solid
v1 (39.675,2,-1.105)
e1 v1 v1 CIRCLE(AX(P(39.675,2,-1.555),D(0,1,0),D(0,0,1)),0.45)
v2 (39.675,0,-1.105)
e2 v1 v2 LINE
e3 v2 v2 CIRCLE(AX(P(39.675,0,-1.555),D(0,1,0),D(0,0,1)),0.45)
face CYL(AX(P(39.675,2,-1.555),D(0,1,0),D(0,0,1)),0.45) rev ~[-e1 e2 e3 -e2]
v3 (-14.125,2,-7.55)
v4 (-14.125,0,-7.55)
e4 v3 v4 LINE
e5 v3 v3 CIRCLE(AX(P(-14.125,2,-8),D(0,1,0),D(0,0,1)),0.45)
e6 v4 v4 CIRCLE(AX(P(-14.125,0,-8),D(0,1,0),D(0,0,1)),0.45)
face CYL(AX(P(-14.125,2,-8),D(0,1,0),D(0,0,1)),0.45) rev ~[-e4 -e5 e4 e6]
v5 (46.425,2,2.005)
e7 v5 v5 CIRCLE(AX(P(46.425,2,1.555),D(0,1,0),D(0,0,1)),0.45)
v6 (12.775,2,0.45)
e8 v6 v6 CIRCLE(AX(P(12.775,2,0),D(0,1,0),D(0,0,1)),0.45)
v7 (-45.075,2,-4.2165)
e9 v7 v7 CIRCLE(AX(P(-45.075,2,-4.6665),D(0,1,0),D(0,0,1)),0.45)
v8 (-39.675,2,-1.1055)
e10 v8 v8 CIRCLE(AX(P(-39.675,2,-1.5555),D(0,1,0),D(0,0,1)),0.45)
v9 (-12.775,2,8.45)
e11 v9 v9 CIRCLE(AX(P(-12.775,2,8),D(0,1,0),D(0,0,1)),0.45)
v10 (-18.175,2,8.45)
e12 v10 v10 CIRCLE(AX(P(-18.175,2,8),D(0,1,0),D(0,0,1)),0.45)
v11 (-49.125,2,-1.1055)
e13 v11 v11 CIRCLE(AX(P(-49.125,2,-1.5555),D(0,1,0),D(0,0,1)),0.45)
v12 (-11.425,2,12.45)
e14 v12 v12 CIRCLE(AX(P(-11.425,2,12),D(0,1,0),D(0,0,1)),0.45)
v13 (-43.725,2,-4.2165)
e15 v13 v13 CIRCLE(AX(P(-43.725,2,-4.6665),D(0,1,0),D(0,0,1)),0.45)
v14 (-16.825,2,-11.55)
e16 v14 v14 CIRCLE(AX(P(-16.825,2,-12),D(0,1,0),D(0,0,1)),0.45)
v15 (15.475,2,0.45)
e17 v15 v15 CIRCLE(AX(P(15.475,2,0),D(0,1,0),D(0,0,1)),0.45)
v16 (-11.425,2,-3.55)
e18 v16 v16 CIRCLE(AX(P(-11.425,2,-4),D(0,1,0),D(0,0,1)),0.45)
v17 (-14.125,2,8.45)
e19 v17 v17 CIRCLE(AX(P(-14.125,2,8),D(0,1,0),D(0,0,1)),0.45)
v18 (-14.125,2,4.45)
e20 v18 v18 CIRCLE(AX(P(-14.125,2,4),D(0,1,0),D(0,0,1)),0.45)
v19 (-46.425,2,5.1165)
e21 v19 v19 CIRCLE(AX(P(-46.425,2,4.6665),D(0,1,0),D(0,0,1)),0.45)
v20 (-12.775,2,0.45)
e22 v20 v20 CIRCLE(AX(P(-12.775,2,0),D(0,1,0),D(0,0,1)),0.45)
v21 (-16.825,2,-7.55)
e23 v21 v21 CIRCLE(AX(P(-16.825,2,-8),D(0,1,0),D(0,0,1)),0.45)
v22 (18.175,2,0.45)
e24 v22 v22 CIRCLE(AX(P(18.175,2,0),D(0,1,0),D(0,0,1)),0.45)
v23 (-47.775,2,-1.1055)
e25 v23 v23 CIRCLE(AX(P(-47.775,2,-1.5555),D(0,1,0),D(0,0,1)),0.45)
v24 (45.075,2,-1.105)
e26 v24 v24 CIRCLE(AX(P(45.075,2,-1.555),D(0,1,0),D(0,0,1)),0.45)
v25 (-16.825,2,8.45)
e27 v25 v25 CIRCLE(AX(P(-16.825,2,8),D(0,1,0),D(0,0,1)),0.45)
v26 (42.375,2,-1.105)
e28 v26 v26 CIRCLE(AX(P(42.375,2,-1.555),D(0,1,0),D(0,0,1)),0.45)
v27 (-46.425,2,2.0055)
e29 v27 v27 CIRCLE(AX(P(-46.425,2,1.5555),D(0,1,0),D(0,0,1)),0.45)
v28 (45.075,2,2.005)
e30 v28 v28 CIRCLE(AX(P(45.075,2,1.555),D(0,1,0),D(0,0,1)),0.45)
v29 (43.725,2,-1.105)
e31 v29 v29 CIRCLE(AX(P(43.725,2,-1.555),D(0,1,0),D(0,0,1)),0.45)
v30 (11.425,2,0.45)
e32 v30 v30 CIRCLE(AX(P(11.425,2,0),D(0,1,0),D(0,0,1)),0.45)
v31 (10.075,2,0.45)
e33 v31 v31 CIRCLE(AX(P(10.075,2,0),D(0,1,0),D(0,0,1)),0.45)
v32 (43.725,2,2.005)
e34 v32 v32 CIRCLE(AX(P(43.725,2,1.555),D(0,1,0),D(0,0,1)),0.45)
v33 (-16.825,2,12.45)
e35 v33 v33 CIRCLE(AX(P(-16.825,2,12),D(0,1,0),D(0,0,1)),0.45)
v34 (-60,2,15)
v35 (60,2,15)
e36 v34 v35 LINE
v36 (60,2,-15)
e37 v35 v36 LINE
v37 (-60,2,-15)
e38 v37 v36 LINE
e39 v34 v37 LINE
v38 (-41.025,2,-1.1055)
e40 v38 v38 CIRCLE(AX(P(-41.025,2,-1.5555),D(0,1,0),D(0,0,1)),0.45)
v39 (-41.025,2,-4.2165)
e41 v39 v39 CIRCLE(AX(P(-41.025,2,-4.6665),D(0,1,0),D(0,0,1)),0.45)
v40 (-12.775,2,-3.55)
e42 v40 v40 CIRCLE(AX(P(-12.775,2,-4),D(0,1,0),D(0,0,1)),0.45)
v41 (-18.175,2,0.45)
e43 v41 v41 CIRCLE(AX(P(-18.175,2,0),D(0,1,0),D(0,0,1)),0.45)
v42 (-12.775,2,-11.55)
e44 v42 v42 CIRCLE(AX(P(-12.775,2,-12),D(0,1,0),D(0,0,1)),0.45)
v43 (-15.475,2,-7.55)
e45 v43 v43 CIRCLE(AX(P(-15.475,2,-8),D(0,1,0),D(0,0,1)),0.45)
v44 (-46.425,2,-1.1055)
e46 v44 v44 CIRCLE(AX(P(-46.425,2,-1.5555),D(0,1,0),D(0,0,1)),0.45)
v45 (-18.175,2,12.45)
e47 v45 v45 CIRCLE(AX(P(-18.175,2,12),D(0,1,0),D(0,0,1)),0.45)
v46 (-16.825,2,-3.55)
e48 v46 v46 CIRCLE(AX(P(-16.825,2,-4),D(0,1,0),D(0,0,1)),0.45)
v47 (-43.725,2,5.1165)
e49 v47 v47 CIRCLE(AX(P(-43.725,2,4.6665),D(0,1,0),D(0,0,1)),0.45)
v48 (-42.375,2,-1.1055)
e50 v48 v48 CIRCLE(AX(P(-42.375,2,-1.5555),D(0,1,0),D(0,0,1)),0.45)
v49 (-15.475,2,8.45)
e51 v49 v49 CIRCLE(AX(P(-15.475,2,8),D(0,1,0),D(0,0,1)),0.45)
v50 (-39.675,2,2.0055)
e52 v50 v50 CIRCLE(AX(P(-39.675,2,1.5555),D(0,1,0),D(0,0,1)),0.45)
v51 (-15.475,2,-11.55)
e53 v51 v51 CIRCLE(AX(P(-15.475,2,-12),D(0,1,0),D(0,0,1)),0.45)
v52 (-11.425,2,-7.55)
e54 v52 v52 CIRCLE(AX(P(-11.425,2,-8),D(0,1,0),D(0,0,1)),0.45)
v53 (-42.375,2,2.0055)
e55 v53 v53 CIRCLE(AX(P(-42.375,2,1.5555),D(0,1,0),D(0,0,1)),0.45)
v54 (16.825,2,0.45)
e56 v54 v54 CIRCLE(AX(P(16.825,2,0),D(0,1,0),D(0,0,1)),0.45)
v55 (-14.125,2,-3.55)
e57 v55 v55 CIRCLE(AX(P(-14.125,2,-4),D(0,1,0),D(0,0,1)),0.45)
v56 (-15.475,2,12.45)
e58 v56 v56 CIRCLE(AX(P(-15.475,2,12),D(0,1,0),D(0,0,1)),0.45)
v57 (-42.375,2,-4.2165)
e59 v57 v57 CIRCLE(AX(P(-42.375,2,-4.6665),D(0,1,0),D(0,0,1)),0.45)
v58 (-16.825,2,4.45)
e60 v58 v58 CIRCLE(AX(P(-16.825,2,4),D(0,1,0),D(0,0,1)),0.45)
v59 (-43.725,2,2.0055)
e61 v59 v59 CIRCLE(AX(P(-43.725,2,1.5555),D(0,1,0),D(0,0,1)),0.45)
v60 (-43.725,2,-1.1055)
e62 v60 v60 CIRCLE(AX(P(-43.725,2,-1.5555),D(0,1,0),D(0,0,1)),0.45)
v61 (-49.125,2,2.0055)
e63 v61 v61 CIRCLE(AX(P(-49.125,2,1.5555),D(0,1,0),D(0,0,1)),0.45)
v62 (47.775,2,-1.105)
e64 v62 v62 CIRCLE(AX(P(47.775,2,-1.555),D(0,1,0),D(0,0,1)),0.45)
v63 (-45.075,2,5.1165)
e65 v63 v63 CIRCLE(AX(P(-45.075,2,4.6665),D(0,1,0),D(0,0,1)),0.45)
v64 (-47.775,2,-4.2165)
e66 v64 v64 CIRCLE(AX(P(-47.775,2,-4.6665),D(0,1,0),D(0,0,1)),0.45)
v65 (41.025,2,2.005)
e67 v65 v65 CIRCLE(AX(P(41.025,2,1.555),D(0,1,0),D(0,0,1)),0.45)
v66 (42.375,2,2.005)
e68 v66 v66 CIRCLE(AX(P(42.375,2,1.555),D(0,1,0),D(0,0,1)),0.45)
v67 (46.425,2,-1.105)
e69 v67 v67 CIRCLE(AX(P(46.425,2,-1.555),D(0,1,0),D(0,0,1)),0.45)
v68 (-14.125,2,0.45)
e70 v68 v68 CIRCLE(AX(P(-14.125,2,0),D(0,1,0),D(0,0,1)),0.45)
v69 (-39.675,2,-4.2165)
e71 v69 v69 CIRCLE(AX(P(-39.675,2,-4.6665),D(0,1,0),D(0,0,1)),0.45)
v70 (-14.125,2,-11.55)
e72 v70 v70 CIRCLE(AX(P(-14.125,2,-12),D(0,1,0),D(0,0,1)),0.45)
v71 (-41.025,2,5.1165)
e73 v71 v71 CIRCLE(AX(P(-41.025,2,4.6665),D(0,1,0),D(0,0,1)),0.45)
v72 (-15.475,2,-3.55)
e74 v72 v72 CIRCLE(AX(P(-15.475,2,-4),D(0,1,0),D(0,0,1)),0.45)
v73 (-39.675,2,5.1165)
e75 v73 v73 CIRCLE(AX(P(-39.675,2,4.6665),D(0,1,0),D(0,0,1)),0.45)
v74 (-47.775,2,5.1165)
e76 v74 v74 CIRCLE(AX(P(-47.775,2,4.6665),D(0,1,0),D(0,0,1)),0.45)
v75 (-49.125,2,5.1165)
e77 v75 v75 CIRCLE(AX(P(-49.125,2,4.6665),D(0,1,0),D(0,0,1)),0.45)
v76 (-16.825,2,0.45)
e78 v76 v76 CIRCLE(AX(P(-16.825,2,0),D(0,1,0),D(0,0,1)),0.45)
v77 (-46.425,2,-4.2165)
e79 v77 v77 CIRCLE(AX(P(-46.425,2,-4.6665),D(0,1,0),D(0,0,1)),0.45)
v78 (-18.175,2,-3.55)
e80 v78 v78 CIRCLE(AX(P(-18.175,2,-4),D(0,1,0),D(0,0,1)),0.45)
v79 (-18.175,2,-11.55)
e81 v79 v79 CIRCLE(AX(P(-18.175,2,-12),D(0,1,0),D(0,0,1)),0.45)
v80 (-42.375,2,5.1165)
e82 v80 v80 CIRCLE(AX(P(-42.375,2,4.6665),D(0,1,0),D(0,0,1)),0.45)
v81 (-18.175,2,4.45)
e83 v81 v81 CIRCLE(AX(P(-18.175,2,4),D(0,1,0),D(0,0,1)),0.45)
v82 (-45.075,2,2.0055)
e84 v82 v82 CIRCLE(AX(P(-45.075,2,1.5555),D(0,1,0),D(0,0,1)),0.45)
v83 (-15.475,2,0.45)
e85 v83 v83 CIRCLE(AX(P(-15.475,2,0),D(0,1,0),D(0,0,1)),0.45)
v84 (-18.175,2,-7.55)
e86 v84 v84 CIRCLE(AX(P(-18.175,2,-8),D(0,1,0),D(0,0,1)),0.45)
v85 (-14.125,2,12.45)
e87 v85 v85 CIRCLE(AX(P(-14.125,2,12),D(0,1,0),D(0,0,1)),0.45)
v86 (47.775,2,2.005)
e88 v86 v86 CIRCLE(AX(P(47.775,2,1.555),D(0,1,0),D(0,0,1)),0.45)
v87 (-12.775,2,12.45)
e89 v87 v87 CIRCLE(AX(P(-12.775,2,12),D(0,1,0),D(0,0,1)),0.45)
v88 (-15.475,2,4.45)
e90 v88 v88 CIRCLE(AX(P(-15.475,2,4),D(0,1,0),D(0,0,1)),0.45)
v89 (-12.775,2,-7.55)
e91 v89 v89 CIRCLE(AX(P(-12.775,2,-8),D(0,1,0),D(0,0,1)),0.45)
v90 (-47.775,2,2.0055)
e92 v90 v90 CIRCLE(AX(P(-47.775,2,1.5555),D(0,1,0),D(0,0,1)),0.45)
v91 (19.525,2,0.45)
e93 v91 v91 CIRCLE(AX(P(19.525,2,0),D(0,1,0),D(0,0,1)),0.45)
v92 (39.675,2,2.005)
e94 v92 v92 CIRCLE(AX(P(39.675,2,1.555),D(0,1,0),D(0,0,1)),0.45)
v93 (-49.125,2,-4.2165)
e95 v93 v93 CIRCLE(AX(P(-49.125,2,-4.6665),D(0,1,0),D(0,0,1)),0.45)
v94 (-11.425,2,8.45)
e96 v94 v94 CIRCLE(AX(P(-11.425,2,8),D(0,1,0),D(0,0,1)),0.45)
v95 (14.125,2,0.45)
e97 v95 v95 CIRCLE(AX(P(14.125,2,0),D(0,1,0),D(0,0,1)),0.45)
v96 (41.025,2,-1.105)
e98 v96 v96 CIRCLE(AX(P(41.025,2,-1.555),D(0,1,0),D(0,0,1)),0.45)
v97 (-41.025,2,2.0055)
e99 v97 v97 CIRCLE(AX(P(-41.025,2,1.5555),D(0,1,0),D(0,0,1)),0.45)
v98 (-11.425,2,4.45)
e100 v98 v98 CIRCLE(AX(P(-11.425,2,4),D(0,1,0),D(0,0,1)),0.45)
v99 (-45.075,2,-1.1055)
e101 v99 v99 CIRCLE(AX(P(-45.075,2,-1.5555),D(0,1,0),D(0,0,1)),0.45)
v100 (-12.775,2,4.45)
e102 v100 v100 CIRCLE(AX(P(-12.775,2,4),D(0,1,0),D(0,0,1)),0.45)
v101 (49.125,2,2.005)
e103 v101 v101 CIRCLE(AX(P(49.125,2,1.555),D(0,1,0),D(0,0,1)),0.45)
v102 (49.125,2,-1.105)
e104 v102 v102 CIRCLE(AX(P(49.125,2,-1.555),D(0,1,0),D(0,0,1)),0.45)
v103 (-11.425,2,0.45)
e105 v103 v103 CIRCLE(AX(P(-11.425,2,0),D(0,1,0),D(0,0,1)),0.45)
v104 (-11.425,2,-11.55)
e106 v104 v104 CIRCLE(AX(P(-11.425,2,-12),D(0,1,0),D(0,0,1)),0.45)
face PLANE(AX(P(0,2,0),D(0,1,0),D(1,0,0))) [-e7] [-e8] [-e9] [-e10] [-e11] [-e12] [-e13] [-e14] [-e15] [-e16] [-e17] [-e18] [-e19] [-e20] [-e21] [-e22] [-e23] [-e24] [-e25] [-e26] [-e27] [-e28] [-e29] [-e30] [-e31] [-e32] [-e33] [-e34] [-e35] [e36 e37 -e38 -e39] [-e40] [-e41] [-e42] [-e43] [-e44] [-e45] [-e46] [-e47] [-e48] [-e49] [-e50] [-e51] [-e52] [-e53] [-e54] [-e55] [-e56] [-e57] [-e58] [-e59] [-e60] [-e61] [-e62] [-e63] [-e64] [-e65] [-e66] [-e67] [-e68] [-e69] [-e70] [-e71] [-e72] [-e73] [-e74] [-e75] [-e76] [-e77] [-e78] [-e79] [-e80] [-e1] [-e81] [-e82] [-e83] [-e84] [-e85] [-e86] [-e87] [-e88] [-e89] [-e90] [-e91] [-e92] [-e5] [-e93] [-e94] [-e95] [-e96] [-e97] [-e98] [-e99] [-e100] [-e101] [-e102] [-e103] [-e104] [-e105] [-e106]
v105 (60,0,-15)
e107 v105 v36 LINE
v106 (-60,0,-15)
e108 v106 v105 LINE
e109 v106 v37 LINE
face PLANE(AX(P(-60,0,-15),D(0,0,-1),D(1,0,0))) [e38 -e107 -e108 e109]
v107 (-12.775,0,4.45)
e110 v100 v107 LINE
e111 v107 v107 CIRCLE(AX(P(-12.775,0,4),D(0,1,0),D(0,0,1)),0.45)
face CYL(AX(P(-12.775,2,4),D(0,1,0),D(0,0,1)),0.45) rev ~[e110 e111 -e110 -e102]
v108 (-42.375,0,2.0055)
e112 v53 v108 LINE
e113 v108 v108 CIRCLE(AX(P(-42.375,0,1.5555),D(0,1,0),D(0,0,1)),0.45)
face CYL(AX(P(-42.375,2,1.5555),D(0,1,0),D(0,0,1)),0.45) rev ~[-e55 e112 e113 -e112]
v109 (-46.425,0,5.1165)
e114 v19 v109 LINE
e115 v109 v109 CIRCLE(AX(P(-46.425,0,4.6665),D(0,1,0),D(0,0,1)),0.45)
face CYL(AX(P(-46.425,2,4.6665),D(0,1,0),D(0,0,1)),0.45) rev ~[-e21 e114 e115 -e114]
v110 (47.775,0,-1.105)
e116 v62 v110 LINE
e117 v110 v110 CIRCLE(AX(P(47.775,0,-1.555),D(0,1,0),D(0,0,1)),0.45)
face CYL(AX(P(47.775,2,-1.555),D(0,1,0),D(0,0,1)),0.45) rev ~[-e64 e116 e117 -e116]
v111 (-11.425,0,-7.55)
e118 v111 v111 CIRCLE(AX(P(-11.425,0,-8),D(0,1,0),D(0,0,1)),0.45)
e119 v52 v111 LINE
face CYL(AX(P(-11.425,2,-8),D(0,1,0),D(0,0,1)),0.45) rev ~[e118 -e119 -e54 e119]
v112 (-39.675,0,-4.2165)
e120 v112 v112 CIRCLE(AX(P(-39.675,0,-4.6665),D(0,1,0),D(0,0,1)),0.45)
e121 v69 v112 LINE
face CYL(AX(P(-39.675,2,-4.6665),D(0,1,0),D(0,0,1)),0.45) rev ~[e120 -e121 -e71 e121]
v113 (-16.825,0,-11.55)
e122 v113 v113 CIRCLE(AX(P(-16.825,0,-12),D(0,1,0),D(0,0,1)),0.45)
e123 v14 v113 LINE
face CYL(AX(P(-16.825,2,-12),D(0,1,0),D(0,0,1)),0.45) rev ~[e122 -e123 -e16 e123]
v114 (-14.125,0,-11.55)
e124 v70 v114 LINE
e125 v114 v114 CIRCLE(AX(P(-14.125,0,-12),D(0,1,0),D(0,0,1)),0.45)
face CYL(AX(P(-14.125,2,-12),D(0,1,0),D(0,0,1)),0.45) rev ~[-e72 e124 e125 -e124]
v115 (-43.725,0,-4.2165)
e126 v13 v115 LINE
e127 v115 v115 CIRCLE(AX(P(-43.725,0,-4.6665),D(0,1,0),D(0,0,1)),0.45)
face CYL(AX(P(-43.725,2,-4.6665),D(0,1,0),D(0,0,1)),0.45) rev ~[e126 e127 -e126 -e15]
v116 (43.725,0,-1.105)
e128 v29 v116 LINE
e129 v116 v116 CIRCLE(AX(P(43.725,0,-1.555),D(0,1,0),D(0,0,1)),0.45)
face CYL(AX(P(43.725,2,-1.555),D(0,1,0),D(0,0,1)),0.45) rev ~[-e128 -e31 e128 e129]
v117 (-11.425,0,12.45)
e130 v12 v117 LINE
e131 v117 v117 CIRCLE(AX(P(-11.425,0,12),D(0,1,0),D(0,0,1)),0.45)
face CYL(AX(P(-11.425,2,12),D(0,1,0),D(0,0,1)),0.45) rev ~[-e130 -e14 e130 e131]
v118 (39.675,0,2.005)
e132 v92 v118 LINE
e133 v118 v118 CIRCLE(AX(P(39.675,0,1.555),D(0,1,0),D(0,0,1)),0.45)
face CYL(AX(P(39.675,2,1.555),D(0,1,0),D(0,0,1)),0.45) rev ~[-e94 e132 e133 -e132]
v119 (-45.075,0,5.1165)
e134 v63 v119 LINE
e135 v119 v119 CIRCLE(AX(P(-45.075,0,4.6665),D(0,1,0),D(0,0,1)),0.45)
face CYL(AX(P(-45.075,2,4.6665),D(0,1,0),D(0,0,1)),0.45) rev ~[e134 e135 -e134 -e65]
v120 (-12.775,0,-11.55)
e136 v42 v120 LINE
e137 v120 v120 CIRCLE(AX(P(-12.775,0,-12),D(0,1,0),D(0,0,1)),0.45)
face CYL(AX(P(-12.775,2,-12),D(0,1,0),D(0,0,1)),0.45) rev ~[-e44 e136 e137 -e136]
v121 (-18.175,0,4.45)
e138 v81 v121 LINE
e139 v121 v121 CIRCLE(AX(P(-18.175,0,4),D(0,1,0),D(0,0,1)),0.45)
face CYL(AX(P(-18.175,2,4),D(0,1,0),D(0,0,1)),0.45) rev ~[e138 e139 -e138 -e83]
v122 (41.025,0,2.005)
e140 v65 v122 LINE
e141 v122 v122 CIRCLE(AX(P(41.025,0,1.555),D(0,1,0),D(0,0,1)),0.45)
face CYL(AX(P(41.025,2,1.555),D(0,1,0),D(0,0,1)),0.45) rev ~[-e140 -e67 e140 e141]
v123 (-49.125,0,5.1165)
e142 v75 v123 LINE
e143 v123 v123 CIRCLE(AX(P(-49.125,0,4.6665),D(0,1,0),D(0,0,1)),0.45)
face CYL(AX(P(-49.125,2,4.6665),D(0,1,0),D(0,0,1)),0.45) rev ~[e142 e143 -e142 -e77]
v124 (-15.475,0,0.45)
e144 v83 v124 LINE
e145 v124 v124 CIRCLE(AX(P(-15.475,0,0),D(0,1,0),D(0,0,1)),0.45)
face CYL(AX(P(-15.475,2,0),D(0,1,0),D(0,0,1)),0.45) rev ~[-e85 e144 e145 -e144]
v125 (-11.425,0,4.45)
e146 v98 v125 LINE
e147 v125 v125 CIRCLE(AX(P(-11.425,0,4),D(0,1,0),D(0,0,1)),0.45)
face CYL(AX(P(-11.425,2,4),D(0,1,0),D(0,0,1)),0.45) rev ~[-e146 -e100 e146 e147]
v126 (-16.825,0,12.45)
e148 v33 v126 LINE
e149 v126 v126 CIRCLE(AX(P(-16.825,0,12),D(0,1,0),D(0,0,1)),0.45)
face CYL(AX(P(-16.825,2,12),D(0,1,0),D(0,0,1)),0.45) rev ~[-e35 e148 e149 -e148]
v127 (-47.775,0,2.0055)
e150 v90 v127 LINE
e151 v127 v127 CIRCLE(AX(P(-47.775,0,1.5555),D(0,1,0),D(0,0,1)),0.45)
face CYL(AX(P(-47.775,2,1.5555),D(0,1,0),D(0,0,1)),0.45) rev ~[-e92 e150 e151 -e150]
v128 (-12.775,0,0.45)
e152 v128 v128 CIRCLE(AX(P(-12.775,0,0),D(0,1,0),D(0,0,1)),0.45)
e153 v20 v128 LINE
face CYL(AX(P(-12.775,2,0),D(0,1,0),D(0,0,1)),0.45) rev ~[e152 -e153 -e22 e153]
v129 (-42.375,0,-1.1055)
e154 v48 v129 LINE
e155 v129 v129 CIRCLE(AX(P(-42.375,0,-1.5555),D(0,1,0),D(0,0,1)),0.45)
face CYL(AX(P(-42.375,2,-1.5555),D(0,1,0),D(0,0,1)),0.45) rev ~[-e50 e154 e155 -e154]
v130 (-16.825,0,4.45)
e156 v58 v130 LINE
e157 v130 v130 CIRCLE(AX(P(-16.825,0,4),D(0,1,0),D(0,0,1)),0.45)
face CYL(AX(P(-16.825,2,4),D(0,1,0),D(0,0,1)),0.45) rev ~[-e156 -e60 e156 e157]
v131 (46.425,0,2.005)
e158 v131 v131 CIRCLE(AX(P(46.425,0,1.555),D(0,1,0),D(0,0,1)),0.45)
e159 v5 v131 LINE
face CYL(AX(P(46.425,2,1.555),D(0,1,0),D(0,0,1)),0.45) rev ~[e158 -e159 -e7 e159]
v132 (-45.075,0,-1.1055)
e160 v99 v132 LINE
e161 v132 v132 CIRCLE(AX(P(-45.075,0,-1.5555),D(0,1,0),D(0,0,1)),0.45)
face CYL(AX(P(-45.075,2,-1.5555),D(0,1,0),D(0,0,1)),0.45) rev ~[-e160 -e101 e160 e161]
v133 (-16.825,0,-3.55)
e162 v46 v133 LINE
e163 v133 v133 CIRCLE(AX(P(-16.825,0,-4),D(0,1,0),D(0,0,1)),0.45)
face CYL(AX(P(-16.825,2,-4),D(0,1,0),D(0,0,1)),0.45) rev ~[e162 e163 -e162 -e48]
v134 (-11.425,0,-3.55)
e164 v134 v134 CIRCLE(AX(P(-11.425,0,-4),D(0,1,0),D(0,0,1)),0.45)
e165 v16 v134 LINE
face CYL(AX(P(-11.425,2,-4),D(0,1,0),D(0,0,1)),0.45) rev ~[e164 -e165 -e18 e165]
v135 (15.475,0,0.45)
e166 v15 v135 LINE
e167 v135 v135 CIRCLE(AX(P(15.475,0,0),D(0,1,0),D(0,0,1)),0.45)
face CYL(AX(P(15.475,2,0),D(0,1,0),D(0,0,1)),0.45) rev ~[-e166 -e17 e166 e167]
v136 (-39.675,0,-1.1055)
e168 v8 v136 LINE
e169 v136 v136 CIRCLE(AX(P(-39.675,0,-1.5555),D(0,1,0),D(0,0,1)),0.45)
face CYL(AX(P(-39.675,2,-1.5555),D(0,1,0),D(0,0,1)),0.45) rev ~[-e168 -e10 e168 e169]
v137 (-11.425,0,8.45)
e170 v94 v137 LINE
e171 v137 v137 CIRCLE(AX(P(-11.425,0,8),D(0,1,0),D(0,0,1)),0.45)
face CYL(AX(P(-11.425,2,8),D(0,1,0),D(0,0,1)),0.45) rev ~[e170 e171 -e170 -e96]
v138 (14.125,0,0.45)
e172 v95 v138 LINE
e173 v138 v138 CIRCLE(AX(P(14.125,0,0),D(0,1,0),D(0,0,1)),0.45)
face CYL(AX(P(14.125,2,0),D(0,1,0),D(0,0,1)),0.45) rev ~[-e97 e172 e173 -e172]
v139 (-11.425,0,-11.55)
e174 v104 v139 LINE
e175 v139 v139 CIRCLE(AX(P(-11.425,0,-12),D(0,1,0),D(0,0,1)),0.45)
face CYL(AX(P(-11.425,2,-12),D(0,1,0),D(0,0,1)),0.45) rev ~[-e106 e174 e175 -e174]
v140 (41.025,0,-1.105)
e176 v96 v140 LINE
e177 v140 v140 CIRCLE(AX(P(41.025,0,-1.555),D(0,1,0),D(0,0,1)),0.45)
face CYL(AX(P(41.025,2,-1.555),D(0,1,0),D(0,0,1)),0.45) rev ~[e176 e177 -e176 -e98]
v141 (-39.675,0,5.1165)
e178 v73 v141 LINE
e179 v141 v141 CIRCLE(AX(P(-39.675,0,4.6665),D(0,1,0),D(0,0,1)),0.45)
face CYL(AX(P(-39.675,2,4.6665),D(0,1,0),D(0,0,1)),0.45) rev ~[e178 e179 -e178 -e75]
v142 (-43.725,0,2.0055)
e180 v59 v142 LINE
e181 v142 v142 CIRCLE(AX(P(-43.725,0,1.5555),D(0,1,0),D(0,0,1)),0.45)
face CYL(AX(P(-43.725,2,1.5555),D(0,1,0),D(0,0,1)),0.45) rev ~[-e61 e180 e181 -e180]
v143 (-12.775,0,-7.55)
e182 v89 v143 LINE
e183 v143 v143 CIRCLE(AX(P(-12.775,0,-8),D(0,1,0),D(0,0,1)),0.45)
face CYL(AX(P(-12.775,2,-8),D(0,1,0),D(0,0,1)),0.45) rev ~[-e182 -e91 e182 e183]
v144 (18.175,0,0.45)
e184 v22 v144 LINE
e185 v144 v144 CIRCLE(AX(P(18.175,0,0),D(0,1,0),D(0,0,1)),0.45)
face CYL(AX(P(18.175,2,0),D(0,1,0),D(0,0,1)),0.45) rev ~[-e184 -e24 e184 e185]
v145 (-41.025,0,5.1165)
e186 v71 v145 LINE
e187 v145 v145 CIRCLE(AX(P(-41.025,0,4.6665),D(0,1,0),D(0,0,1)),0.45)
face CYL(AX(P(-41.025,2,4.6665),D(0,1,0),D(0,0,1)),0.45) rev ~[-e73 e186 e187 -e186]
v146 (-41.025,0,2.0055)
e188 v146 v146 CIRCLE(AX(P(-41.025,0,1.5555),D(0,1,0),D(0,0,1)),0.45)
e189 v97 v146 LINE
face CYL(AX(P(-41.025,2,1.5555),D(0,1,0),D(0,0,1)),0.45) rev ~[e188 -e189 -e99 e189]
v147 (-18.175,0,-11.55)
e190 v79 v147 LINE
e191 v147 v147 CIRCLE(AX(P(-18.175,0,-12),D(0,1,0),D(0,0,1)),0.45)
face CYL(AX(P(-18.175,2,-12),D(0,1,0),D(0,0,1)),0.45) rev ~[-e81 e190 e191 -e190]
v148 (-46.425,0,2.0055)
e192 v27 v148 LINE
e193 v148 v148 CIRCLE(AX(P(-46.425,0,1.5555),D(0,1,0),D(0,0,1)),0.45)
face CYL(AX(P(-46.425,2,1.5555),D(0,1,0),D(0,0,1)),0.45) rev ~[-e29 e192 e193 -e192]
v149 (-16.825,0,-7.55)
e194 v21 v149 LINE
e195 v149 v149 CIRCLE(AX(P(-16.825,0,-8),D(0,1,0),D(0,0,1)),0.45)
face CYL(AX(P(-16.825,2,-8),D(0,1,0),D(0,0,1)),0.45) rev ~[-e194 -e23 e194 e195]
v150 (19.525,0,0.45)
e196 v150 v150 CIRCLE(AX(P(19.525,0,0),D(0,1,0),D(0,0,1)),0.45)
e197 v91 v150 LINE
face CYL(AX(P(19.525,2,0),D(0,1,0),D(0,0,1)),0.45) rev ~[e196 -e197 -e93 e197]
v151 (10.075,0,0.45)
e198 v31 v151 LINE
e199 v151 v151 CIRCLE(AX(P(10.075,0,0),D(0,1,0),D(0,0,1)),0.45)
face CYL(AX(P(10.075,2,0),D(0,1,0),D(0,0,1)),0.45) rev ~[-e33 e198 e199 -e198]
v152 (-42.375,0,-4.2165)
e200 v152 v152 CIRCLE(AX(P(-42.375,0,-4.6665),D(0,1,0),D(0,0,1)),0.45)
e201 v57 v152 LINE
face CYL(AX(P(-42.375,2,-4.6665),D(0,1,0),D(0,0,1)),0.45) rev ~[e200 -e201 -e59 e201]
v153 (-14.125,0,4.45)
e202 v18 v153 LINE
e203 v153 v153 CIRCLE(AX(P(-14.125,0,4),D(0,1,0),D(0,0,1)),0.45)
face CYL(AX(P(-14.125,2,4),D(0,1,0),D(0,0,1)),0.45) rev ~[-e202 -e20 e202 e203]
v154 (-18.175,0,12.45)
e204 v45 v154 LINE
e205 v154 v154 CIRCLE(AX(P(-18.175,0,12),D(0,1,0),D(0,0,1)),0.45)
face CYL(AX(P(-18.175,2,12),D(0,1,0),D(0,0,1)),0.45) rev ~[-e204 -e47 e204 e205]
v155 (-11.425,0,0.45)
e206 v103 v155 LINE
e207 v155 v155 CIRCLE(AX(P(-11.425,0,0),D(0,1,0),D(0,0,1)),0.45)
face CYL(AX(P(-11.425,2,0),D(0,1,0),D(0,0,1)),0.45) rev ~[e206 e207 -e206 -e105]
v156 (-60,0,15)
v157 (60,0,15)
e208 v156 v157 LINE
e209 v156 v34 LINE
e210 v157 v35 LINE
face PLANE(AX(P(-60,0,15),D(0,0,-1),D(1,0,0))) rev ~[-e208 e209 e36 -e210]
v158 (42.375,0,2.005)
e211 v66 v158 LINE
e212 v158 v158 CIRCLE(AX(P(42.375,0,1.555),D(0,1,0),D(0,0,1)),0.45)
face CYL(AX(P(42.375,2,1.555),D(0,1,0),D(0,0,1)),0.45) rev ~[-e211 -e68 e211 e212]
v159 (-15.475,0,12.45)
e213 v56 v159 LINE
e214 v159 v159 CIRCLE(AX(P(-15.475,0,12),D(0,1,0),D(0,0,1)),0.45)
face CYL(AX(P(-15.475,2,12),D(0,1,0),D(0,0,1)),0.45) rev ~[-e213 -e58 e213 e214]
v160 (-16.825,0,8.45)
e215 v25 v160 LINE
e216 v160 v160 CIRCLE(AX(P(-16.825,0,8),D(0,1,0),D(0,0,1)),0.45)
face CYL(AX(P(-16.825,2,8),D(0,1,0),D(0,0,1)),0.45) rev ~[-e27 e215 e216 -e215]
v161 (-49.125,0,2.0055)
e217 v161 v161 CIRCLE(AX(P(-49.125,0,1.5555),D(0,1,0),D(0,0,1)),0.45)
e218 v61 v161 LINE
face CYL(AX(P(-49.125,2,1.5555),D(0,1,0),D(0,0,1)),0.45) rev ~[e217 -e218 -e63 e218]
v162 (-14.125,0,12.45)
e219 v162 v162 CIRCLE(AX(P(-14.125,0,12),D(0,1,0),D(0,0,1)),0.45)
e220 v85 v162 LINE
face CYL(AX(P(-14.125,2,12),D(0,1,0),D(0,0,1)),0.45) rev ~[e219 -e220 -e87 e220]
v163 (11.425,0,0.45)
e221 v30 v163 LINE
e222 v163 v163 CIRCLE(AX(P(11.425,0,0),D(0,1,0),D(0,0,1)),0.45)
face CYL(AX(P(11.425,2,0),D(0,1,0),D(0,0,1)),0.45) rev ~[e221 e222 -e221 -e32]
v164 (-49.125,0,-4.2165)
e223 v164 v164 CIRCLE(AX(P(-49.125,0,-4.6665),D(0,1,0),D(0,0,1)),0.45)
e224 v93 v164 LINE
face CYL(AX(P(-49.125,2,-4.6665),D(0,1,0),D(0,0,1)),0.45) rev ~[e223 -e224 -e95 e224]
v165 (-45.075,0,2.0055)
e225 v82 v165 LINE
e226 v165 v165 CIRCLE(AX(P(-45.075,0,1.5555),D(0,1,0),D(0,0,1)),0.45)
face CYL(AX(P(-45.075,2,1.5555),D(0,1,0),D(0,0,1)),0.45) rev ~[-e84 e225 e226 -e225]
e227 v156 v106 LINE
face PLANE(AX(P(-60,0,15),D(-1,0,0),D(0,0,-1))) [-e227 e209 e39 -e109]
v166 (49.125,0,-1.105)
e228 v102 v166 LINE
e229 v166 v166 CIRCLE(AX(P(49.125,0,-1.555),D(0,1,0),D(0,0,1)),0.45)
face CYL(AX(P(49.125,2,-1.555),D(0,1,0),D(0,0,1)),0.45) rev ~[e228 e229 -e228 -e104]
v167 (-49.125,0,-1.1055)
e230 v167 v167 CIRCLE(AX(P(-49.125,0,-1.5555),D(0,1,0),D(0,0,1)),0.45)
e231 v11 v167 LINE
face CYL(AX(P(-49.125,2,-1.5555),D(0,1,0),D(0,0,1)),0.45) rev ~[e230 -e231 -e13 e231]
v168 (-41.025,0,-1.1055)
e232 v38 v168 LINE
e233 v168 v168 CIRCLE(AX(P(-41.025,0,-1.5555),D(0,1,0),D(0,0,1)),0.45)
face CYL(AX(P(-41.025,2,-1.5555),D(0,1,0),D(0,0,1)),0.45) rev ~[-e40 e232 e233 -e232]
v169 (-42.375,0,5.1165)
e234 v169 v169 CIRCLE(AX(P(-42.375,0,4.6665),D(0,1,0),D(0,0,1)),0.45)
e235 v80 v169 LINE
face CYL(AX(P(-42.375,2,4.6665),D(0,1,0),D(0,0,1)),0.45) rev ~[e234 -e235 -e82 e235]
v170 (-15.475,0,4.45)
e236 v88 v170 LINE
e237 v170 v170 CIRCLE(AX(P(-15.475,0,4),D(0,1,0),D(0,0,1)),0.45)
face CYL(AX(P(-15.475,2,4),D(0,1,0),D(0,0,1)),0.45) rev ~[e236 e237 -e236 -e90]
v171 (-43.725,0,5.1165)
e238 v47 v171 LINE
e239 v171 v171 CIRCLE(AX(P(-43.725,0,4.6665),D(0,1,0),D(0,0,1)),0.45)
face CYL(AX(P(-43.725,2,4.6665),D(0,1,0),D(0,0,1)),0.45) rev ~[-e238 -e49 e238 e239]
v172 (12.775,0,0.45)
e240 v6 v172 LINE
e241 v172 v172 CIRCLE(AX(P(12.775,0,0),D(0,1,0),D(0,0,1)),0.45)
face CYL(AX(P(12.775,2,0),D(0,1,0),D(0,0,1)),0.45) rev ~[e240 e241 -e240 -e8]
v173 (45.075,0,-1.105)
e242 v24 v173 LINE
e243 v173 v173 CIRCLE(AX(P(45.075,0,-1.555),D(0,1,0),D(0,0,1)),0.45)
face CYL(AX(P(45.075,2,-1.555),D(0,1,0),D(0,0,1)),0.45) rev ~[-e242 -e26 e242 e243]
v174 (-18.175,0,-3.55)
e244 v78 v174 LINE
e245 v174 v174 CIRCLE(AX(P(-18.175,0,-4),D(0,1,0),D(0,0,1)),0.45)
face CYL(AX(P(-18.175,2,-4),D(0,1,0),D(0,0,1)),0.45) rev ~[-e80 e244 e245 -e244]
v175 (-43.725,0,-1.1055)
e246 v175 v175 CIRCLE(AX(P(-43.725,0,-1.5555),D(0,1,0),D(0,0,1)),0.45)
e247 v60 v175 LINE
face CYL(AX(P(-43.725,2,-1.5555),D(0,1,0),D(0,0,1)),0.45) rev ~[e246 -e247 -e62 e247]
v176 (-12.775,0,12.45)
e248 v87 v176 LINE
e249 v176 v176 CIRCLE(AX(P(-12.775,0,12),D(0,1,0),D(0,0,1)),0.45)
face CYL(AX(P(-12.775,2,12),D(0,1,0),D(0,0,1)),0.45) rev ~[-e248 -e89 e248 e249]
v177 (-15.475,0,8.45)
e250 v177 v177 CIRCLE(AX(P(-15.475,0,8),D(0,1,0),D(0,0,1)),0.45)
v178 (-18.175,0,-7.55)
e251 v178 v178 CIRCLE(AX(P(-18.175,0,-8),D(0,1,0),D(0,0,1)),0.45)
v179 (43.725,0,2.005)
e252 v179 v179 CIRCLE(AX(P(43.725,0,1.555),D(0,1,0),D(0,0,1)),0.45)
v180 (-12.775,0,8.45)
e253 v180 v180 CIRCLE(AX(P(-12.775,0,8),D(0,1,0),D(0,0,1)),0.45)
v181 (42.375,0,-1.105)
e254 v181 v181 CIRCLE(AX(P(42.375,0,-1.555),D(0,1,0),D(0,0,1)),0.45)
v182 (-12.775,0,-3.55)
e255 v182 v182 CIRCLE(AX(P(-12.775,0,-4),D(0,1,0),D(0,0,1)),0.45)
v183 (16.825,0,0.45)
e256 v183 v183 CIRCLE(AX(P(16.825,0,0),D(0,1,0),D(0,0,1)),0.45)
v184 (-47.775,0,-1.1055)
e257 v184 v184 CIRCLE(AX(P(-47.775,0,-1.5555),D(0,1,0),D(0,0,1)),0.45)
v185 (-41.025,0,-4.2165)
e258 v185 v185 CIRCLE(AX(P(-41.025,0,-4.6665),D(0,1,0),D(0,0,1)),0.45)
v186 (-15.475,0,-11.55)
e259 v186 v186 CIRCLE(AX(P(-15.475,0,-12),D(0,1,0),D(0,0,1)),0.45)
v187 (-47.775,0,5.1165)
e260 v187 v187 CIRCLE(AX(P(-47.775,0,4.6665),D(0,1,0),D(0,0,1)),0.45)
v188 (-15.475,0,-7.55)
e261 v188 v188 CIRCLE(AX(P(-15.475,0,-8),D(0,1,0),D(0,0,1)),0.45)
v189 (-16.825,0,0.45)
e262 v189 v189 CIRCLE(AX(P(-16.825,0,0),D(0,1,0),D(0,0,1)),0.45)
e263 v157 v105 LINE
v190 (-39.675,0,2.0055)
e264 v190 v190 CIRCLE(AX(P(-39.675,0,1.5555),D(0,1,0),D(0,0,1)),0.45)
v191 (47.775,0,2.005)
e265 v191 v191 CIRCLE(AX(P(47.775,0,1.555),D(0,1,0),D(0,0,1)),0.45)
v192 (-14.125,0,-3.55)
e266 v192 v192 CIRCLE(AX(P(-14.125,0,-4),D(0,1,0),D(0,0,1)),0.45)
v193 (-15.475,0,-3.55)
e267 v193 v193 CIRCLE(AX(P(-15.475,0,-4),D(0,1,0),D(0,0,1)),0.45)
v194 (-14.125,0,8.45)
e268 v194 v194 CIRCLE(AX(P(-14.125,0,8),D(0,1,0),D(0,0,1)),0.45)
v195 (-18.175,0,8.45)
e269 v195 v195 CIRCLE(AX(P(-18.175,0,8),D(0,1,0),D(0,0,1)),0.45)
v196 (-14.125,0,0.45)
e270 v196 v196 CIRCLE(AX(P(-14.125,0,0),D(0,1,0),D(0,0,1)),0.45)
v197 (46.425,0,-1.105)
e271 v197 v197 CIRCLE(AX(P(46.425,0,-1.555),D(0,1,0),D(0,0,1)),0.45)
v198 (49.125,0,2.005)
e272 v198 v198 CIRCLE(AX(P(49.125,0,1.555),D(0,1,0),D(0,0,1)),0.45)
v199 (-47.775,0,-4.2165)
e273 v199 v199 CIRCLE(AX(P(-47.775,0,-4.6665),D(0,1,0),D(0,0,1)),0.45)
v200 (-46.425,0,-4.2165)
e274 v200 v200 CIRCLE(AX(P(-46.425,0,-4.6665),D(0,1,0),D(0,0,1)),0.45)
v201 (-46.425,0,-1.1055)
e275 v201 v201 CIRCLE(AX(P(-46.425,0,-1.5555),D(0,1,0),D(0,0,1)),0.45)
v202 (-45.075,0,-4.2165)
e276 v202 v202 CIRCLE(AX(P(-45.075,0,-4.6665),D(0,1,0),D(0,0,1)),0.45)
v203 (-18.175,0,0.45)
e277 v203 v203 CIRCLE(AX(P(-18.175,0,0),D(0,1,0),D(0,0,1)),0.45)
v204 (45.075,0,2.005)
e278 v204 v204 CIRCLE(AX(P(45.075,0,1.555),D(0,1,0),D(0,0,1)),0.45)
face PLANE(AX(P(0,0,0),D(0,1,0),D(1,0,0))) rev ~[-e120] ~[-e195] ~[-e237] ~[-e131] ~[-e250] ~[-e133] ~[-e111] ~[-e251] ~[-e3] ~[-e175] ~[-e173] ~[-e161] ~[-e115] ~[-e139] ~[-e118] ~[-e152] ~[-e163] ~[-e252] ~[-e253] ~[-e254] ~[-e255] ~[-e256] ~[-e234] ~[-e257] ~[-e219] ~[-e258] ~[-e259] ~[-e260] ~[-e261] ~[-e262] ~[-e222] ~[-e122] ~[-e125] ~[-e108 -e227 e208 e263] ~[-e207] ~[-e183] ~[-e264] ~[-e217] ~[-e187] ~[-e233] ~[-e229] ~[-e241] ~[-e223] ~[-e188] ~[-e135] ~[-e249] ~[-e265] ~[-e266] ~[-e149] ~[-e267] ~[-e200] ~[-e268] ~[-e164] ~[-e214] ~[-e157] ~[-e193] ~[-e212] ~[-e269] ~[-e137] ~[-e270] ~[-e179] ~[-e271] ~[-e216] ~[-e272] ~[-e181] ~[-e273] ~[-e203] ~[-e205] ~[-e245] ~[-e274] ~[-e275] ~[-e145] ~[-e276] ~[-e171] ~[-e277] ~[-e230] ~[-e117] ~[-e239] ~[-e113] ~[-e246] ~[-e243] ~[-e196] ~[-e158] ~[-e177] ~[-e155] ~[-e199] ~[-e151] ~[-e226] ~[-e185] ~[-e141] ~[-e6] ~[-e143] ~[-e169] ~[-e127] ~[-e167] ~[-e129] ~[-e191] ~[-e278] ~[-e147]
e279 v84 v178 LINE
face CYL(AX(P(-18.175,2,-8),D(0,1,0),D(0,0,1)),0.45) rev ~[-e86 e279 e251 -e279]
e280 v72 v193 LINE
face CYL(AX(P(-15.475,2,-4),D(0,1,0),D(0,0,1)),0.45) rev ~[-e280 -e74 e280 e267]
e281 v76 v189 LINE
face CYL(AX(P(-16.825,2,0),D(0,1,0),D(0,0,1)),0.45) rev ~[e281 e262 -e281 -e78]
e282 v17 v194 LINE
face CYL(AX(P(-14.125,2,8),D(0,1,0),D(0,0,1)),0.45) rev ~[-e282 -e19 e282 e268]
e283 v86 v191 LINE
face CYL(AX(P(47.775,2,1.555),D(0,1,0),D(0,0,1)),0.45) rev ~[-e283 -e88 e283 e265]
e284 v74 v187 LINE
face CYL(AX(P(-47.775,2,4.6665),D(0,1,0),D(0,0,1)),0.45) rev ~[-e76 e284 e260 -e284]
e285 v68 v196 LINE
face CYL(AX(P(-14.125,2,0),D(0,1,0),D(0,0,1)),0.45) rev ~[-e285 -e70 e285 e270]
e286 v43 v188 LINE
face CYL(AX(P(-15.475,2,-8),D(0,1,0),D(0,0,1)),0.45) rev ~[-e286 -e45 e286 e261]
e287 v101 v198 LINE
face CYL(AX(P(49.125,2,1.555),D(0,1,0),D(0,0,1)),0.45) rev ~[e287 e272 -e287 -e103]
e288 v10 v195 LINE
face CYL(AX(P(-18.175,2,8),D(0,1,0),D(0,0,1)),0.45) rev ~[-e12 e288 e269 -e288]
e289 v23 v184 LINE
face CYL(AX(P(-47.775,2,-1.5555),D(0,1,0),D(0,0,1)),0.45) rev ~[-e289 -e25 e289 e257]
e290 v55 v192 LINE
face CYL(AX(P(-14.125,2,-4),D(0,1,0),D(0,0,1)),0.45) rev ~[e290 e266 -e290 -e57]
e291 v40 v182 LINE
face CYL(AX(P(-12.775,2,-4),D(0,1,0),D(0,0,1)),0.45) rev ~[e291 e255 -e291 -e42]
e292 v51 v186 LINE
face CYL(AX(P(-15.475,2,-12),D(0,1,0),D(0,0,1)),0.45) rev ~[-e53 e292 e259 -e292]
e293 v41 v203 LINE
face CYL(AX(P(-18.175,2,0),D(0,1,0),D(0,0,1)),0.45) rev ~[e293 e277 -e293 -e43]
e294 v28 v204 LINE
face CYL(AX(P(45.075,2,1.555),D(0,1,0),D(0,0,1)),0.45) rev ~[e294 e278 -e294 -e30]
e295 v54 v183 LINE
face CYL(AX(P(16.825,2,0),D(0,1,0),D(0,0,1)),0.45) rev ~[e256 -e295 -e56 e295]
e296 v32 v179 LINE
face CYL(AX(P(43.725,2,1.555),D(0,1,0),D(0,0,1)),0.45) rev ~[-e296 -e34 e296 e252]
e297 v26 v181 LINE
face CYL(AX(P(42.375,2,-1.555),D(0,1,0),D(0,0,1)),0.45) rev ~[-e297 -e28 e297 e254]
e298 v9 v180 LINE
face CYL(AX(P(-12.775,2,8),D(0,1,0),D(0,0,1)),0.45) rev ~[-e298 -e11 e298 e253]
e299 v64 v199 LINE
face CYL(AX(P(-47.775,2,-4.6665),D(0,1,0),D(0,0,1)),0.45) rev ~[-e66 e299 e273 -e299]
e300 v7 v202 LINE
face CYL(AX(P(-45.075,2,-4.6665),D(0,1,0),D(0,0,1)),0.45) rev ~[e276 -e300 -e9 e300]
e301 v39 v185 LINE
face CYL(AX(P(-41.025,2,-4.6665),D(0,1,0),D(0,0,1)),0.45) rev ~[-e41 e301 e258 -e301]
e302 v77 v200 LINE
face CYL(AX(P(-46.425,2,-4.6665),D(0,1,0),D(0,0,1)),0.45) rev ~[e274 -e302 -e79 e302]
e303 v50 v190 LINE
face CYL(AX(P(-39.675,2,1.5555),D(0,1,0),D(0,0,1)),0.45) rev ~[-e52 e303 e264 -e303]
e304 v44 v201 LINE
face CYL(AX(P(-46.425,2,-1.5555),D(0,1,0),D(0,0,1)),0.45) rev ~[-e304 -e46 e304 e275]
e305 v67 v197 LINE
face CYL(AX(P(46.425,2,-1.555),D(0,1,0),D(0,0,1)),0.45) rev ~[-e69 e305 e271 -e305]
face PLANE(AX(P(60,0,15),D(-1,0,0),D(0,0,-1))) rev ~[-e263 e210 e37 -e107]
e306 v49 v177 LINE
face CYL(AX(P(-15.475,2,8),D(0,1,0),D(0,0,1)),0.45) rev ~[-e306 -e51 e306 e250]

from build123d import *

# Parameters (mm, degrees)
ESQUISSE2_W                     = 120
ESQUISSE2_H                     = 30
BOSS_EXTRU_1_DEPTH              = 2
ENL_V_MAT_EXTRU_3_REACH         = 63.879
ESQUISSE8_R                     = 0.45
R_P_TITION_LIN_AIRE4_COUNT      = 8
R_P_TITION_LIN_AIRE4_PITCH      = 1.35
R_P_TITION_LIN_AIRE4_COUNT_DIR2 = 4
R_P_TITION_LIN_AIRE4_PITCH_DIR2 = 3.111
ENL_V_MAT_EXTRU_4_REACH         = 63.879
ESQUISSE10_R                    = 0.45
R_P_TITION_LIN_AIRE5_COUNT      = 6
R_P_TITION_LIN_AIRE5_PITCH      = 1.35
R_P_TITION_LIN_AIRE5_COUNT_DIR2 = 7
R_P_TITION_LIN_AIRE5_PITCH_DIR2 = 4
ENL_V_MAT_EXTRU_5_REACH         = 63.879
ESQUISSE12_R                    = 0.45
R_P_TITION_LIN_AIRE6_COUNT      = 8
R_P_TITION_LIN_AIRE6_PITCH      = 1.35
ENL_V_MAT_EXTRU_6_REACH         = 63.879
ESQUISSE14_R                    = 0.45
R_P_TITION_LIN_AIRE7_COUNT      = 8
R_P_TITION_LIN_AIRE7_PITCH      = 1.35
R_P_TITION_LIN_AIRE7_COUNT_DIR2 = 2
R_P_TITION_LIN_AIRE7_PITCH_DIR2 = 3.11


with BuildPart() as part:
    # Esquisse2 → Boss.-Extru.1 (new body)
    with BuildSketch(Plane(origin=(0, 0, 0), x_dir=(1, 0, 0), z_dir=(0, 1, 0))):
        Rectangle(ESQUISSE2_W, ESQUISSE2_H)
    extrude(amount=BOSS_EXTRU_1_DEPTH)

    # Esquisse8 → Enlèv. mat.-Extru.3 (cut, up to next)
    with BuildSketch(Plane(origin=(0, 2, 0), x_dir=(1, 0, 0), z_dir=(0, 1, 0)), mode=Mode.PRIVATE) as enl_v_mat_extru_3_sk1:
        with Locations(Location((-49.125, 4.6665, 0), (0, 0, 270))):
            Circle(ESQUISSE8_R)
    enl_v_mat_extru_3_tool1 = extrude(enl_v_mat_extru_3_sk1.sketch, amount=-ENL_V_MAT_EXTRU_3_REACH, mode=Mode.PRIVATE) & part.part
    enl_v_mat_extru_3 = enl_v_mat_extru_3_tool1.solids().sort_by_distance((-49.125, 2, -4.6665))[0]
    add(enl_v_mat_extru_3, mode=Mode.SUBTRACT)

    # Répétition linéaire4: Enl_v. mat.-Extru.3 8 × 4
    with Locations(*[(i * R_P_TITION_LIN_AIRE4_PITCH, 0, j * R_P_TITION_LIN_AIRE4_PITCH_DIR2) for i in range(R_P_TITION_LIN_AIRE4_COUNT) for j in range(R_P_TITION_LIN_AIRE4_COUNT_DIR2) if (i, j) != (0, 0)]):
        add(enl_v_mat_extru_3, mode=Mode.SUBTRACT)

    # Esquisse10 → Enlèv. mat.-Extru.4 (cut, up to next)
    with BuildSketch(Plane(origin=(0, 2, 0), x_dir=(1, 0, 0), z_dir=(0, 1, 0)), mode=Mode.PRIVATE) as enl_v_mat_extru_4_sk1:
        with Locations(Location((-18.175, 12, 0), (0, 0, 270))):
            Circle(ESQUISSE10_R)
    enl_v_mat_extru_4_tool1 = extrude(enl_v_mat_extru_4_sk1.sketch, amount=-ENL_V_MAT_EXTRU_4_REACH, mode=Mode.PRIVATE) & part.part
    enl_v_mat_extru_4 = enl_v_mat_extru_4_tool1.solids().sort_by_distance((-18.175, 2, -12))[0]
    add(enl_v_mat_extru_4, mode=Mode.SUBTRACT)

    # Répétition linéaire5: Enl_v. mat.-Extru.4 6 × 7
    with Locations(*[(i * R_P_TITION_LIN_AIRE5_PITCH, 0, j * R_P_TITION_LIN_AIRE5_PITCH_DIR2) for i in range(R_P_TITION_LIN_AIRE5_COUNT) for j in range(R_P_TITION_LIN_AIRE5_COUNT_DIR2) if (i, j) != (0, 0)]):
        add(enl_v_mat_extru_4, mode=Mode.SUBTRACT)

    # Esquisse12 → Enlèv. mat.-Extru.5 (cut, up to next)
    with BuildSketch(Plane(origin=(0, 2, 0), x_dir=(1, 0, 0), z_dir=(0, 1, 0)), mode=Mode.PRIVATE) as enl_v_mat_extru_5_sk1:
        with Locations(Location((10.075, 0, 0), (0, 0, 270))):
            Circle(ESQUISSE12_R)
    enl_v_mat_extru_5_tool1 = extrude(enl_v_mat_extru_5_sk1.sketch, amount=-ENL_V_MAT_EXTRU_5_REACH, mode=Mode.PRIVATE) & part.part
    enl_v_mat_extru_5 = enl_v_mat_extru_5_tool1.solids().sort_by_distance((10.075, 2, 0))[0]
    add(enl_v_mat_extru_5, mode=Mode.SUBTRACT)

    # Répétition linéaire6: Enlèv. mat.-Extru.5 ×8
    with Locations(*[(i * R_P_TITION_LIN_AIRE6_PITCH, 0, 0) for i in range(1, R_P_TITION_LIN_AIRE6_COUNT)]):
        add(enl_v_mat_extru_5, mode=Mode.SUBTRACT)

    # Esquisse14 → Enlèv. mat.-Extru.6 (cut, up to next)
    with BuildSketch(Plane(origin=(0, 2, 0), x_dir=(1, 0, 0), z_dir=(0, 1, 0)), mode=Mode.PRIVATE) as enl_v_mat_extru_6_sk1:
        with Locations(Location((39.675, 1.555, 0), (0, 0, 270))):
            Circle(ESQUISSE14_R)
    enl_v_mat_extru_6_tool1 = extrude(enl_v_mat_extru_6_sk1.sketch, amount=-ENL_V_MAT_EXTRU_6_REACH, mode=Mode.PRIVATE) & part.part
    enl_v_mat_extru_6 = enl_v_mat_extru_6_tool1.solids().sort_by_distance((39.675, 2, -1.555))[0]
    add(enl_v_mat_extru_6, mode=Mode.SUBTRACT)

    # Répétition linéaire7: Enl_v. mat.-Extru.6 8 × 2
    with Locations(*[(i * R_P_TITION_LIN_AIRE7_PITCH, 0, j * R_P_TITION_LIN_AIRE7_PITCH_DIR2) for i in range(R_P_TITION_LIN_AIRE7_COUNT) for j in range(R_P_TITION_LIN_AIRE7_COUNT_DIR2) if (i, j) != (0, 0)]):
        add(enl_v_mat_extru_6, mode=Mode.SUBTRACT)


solid = part.part
